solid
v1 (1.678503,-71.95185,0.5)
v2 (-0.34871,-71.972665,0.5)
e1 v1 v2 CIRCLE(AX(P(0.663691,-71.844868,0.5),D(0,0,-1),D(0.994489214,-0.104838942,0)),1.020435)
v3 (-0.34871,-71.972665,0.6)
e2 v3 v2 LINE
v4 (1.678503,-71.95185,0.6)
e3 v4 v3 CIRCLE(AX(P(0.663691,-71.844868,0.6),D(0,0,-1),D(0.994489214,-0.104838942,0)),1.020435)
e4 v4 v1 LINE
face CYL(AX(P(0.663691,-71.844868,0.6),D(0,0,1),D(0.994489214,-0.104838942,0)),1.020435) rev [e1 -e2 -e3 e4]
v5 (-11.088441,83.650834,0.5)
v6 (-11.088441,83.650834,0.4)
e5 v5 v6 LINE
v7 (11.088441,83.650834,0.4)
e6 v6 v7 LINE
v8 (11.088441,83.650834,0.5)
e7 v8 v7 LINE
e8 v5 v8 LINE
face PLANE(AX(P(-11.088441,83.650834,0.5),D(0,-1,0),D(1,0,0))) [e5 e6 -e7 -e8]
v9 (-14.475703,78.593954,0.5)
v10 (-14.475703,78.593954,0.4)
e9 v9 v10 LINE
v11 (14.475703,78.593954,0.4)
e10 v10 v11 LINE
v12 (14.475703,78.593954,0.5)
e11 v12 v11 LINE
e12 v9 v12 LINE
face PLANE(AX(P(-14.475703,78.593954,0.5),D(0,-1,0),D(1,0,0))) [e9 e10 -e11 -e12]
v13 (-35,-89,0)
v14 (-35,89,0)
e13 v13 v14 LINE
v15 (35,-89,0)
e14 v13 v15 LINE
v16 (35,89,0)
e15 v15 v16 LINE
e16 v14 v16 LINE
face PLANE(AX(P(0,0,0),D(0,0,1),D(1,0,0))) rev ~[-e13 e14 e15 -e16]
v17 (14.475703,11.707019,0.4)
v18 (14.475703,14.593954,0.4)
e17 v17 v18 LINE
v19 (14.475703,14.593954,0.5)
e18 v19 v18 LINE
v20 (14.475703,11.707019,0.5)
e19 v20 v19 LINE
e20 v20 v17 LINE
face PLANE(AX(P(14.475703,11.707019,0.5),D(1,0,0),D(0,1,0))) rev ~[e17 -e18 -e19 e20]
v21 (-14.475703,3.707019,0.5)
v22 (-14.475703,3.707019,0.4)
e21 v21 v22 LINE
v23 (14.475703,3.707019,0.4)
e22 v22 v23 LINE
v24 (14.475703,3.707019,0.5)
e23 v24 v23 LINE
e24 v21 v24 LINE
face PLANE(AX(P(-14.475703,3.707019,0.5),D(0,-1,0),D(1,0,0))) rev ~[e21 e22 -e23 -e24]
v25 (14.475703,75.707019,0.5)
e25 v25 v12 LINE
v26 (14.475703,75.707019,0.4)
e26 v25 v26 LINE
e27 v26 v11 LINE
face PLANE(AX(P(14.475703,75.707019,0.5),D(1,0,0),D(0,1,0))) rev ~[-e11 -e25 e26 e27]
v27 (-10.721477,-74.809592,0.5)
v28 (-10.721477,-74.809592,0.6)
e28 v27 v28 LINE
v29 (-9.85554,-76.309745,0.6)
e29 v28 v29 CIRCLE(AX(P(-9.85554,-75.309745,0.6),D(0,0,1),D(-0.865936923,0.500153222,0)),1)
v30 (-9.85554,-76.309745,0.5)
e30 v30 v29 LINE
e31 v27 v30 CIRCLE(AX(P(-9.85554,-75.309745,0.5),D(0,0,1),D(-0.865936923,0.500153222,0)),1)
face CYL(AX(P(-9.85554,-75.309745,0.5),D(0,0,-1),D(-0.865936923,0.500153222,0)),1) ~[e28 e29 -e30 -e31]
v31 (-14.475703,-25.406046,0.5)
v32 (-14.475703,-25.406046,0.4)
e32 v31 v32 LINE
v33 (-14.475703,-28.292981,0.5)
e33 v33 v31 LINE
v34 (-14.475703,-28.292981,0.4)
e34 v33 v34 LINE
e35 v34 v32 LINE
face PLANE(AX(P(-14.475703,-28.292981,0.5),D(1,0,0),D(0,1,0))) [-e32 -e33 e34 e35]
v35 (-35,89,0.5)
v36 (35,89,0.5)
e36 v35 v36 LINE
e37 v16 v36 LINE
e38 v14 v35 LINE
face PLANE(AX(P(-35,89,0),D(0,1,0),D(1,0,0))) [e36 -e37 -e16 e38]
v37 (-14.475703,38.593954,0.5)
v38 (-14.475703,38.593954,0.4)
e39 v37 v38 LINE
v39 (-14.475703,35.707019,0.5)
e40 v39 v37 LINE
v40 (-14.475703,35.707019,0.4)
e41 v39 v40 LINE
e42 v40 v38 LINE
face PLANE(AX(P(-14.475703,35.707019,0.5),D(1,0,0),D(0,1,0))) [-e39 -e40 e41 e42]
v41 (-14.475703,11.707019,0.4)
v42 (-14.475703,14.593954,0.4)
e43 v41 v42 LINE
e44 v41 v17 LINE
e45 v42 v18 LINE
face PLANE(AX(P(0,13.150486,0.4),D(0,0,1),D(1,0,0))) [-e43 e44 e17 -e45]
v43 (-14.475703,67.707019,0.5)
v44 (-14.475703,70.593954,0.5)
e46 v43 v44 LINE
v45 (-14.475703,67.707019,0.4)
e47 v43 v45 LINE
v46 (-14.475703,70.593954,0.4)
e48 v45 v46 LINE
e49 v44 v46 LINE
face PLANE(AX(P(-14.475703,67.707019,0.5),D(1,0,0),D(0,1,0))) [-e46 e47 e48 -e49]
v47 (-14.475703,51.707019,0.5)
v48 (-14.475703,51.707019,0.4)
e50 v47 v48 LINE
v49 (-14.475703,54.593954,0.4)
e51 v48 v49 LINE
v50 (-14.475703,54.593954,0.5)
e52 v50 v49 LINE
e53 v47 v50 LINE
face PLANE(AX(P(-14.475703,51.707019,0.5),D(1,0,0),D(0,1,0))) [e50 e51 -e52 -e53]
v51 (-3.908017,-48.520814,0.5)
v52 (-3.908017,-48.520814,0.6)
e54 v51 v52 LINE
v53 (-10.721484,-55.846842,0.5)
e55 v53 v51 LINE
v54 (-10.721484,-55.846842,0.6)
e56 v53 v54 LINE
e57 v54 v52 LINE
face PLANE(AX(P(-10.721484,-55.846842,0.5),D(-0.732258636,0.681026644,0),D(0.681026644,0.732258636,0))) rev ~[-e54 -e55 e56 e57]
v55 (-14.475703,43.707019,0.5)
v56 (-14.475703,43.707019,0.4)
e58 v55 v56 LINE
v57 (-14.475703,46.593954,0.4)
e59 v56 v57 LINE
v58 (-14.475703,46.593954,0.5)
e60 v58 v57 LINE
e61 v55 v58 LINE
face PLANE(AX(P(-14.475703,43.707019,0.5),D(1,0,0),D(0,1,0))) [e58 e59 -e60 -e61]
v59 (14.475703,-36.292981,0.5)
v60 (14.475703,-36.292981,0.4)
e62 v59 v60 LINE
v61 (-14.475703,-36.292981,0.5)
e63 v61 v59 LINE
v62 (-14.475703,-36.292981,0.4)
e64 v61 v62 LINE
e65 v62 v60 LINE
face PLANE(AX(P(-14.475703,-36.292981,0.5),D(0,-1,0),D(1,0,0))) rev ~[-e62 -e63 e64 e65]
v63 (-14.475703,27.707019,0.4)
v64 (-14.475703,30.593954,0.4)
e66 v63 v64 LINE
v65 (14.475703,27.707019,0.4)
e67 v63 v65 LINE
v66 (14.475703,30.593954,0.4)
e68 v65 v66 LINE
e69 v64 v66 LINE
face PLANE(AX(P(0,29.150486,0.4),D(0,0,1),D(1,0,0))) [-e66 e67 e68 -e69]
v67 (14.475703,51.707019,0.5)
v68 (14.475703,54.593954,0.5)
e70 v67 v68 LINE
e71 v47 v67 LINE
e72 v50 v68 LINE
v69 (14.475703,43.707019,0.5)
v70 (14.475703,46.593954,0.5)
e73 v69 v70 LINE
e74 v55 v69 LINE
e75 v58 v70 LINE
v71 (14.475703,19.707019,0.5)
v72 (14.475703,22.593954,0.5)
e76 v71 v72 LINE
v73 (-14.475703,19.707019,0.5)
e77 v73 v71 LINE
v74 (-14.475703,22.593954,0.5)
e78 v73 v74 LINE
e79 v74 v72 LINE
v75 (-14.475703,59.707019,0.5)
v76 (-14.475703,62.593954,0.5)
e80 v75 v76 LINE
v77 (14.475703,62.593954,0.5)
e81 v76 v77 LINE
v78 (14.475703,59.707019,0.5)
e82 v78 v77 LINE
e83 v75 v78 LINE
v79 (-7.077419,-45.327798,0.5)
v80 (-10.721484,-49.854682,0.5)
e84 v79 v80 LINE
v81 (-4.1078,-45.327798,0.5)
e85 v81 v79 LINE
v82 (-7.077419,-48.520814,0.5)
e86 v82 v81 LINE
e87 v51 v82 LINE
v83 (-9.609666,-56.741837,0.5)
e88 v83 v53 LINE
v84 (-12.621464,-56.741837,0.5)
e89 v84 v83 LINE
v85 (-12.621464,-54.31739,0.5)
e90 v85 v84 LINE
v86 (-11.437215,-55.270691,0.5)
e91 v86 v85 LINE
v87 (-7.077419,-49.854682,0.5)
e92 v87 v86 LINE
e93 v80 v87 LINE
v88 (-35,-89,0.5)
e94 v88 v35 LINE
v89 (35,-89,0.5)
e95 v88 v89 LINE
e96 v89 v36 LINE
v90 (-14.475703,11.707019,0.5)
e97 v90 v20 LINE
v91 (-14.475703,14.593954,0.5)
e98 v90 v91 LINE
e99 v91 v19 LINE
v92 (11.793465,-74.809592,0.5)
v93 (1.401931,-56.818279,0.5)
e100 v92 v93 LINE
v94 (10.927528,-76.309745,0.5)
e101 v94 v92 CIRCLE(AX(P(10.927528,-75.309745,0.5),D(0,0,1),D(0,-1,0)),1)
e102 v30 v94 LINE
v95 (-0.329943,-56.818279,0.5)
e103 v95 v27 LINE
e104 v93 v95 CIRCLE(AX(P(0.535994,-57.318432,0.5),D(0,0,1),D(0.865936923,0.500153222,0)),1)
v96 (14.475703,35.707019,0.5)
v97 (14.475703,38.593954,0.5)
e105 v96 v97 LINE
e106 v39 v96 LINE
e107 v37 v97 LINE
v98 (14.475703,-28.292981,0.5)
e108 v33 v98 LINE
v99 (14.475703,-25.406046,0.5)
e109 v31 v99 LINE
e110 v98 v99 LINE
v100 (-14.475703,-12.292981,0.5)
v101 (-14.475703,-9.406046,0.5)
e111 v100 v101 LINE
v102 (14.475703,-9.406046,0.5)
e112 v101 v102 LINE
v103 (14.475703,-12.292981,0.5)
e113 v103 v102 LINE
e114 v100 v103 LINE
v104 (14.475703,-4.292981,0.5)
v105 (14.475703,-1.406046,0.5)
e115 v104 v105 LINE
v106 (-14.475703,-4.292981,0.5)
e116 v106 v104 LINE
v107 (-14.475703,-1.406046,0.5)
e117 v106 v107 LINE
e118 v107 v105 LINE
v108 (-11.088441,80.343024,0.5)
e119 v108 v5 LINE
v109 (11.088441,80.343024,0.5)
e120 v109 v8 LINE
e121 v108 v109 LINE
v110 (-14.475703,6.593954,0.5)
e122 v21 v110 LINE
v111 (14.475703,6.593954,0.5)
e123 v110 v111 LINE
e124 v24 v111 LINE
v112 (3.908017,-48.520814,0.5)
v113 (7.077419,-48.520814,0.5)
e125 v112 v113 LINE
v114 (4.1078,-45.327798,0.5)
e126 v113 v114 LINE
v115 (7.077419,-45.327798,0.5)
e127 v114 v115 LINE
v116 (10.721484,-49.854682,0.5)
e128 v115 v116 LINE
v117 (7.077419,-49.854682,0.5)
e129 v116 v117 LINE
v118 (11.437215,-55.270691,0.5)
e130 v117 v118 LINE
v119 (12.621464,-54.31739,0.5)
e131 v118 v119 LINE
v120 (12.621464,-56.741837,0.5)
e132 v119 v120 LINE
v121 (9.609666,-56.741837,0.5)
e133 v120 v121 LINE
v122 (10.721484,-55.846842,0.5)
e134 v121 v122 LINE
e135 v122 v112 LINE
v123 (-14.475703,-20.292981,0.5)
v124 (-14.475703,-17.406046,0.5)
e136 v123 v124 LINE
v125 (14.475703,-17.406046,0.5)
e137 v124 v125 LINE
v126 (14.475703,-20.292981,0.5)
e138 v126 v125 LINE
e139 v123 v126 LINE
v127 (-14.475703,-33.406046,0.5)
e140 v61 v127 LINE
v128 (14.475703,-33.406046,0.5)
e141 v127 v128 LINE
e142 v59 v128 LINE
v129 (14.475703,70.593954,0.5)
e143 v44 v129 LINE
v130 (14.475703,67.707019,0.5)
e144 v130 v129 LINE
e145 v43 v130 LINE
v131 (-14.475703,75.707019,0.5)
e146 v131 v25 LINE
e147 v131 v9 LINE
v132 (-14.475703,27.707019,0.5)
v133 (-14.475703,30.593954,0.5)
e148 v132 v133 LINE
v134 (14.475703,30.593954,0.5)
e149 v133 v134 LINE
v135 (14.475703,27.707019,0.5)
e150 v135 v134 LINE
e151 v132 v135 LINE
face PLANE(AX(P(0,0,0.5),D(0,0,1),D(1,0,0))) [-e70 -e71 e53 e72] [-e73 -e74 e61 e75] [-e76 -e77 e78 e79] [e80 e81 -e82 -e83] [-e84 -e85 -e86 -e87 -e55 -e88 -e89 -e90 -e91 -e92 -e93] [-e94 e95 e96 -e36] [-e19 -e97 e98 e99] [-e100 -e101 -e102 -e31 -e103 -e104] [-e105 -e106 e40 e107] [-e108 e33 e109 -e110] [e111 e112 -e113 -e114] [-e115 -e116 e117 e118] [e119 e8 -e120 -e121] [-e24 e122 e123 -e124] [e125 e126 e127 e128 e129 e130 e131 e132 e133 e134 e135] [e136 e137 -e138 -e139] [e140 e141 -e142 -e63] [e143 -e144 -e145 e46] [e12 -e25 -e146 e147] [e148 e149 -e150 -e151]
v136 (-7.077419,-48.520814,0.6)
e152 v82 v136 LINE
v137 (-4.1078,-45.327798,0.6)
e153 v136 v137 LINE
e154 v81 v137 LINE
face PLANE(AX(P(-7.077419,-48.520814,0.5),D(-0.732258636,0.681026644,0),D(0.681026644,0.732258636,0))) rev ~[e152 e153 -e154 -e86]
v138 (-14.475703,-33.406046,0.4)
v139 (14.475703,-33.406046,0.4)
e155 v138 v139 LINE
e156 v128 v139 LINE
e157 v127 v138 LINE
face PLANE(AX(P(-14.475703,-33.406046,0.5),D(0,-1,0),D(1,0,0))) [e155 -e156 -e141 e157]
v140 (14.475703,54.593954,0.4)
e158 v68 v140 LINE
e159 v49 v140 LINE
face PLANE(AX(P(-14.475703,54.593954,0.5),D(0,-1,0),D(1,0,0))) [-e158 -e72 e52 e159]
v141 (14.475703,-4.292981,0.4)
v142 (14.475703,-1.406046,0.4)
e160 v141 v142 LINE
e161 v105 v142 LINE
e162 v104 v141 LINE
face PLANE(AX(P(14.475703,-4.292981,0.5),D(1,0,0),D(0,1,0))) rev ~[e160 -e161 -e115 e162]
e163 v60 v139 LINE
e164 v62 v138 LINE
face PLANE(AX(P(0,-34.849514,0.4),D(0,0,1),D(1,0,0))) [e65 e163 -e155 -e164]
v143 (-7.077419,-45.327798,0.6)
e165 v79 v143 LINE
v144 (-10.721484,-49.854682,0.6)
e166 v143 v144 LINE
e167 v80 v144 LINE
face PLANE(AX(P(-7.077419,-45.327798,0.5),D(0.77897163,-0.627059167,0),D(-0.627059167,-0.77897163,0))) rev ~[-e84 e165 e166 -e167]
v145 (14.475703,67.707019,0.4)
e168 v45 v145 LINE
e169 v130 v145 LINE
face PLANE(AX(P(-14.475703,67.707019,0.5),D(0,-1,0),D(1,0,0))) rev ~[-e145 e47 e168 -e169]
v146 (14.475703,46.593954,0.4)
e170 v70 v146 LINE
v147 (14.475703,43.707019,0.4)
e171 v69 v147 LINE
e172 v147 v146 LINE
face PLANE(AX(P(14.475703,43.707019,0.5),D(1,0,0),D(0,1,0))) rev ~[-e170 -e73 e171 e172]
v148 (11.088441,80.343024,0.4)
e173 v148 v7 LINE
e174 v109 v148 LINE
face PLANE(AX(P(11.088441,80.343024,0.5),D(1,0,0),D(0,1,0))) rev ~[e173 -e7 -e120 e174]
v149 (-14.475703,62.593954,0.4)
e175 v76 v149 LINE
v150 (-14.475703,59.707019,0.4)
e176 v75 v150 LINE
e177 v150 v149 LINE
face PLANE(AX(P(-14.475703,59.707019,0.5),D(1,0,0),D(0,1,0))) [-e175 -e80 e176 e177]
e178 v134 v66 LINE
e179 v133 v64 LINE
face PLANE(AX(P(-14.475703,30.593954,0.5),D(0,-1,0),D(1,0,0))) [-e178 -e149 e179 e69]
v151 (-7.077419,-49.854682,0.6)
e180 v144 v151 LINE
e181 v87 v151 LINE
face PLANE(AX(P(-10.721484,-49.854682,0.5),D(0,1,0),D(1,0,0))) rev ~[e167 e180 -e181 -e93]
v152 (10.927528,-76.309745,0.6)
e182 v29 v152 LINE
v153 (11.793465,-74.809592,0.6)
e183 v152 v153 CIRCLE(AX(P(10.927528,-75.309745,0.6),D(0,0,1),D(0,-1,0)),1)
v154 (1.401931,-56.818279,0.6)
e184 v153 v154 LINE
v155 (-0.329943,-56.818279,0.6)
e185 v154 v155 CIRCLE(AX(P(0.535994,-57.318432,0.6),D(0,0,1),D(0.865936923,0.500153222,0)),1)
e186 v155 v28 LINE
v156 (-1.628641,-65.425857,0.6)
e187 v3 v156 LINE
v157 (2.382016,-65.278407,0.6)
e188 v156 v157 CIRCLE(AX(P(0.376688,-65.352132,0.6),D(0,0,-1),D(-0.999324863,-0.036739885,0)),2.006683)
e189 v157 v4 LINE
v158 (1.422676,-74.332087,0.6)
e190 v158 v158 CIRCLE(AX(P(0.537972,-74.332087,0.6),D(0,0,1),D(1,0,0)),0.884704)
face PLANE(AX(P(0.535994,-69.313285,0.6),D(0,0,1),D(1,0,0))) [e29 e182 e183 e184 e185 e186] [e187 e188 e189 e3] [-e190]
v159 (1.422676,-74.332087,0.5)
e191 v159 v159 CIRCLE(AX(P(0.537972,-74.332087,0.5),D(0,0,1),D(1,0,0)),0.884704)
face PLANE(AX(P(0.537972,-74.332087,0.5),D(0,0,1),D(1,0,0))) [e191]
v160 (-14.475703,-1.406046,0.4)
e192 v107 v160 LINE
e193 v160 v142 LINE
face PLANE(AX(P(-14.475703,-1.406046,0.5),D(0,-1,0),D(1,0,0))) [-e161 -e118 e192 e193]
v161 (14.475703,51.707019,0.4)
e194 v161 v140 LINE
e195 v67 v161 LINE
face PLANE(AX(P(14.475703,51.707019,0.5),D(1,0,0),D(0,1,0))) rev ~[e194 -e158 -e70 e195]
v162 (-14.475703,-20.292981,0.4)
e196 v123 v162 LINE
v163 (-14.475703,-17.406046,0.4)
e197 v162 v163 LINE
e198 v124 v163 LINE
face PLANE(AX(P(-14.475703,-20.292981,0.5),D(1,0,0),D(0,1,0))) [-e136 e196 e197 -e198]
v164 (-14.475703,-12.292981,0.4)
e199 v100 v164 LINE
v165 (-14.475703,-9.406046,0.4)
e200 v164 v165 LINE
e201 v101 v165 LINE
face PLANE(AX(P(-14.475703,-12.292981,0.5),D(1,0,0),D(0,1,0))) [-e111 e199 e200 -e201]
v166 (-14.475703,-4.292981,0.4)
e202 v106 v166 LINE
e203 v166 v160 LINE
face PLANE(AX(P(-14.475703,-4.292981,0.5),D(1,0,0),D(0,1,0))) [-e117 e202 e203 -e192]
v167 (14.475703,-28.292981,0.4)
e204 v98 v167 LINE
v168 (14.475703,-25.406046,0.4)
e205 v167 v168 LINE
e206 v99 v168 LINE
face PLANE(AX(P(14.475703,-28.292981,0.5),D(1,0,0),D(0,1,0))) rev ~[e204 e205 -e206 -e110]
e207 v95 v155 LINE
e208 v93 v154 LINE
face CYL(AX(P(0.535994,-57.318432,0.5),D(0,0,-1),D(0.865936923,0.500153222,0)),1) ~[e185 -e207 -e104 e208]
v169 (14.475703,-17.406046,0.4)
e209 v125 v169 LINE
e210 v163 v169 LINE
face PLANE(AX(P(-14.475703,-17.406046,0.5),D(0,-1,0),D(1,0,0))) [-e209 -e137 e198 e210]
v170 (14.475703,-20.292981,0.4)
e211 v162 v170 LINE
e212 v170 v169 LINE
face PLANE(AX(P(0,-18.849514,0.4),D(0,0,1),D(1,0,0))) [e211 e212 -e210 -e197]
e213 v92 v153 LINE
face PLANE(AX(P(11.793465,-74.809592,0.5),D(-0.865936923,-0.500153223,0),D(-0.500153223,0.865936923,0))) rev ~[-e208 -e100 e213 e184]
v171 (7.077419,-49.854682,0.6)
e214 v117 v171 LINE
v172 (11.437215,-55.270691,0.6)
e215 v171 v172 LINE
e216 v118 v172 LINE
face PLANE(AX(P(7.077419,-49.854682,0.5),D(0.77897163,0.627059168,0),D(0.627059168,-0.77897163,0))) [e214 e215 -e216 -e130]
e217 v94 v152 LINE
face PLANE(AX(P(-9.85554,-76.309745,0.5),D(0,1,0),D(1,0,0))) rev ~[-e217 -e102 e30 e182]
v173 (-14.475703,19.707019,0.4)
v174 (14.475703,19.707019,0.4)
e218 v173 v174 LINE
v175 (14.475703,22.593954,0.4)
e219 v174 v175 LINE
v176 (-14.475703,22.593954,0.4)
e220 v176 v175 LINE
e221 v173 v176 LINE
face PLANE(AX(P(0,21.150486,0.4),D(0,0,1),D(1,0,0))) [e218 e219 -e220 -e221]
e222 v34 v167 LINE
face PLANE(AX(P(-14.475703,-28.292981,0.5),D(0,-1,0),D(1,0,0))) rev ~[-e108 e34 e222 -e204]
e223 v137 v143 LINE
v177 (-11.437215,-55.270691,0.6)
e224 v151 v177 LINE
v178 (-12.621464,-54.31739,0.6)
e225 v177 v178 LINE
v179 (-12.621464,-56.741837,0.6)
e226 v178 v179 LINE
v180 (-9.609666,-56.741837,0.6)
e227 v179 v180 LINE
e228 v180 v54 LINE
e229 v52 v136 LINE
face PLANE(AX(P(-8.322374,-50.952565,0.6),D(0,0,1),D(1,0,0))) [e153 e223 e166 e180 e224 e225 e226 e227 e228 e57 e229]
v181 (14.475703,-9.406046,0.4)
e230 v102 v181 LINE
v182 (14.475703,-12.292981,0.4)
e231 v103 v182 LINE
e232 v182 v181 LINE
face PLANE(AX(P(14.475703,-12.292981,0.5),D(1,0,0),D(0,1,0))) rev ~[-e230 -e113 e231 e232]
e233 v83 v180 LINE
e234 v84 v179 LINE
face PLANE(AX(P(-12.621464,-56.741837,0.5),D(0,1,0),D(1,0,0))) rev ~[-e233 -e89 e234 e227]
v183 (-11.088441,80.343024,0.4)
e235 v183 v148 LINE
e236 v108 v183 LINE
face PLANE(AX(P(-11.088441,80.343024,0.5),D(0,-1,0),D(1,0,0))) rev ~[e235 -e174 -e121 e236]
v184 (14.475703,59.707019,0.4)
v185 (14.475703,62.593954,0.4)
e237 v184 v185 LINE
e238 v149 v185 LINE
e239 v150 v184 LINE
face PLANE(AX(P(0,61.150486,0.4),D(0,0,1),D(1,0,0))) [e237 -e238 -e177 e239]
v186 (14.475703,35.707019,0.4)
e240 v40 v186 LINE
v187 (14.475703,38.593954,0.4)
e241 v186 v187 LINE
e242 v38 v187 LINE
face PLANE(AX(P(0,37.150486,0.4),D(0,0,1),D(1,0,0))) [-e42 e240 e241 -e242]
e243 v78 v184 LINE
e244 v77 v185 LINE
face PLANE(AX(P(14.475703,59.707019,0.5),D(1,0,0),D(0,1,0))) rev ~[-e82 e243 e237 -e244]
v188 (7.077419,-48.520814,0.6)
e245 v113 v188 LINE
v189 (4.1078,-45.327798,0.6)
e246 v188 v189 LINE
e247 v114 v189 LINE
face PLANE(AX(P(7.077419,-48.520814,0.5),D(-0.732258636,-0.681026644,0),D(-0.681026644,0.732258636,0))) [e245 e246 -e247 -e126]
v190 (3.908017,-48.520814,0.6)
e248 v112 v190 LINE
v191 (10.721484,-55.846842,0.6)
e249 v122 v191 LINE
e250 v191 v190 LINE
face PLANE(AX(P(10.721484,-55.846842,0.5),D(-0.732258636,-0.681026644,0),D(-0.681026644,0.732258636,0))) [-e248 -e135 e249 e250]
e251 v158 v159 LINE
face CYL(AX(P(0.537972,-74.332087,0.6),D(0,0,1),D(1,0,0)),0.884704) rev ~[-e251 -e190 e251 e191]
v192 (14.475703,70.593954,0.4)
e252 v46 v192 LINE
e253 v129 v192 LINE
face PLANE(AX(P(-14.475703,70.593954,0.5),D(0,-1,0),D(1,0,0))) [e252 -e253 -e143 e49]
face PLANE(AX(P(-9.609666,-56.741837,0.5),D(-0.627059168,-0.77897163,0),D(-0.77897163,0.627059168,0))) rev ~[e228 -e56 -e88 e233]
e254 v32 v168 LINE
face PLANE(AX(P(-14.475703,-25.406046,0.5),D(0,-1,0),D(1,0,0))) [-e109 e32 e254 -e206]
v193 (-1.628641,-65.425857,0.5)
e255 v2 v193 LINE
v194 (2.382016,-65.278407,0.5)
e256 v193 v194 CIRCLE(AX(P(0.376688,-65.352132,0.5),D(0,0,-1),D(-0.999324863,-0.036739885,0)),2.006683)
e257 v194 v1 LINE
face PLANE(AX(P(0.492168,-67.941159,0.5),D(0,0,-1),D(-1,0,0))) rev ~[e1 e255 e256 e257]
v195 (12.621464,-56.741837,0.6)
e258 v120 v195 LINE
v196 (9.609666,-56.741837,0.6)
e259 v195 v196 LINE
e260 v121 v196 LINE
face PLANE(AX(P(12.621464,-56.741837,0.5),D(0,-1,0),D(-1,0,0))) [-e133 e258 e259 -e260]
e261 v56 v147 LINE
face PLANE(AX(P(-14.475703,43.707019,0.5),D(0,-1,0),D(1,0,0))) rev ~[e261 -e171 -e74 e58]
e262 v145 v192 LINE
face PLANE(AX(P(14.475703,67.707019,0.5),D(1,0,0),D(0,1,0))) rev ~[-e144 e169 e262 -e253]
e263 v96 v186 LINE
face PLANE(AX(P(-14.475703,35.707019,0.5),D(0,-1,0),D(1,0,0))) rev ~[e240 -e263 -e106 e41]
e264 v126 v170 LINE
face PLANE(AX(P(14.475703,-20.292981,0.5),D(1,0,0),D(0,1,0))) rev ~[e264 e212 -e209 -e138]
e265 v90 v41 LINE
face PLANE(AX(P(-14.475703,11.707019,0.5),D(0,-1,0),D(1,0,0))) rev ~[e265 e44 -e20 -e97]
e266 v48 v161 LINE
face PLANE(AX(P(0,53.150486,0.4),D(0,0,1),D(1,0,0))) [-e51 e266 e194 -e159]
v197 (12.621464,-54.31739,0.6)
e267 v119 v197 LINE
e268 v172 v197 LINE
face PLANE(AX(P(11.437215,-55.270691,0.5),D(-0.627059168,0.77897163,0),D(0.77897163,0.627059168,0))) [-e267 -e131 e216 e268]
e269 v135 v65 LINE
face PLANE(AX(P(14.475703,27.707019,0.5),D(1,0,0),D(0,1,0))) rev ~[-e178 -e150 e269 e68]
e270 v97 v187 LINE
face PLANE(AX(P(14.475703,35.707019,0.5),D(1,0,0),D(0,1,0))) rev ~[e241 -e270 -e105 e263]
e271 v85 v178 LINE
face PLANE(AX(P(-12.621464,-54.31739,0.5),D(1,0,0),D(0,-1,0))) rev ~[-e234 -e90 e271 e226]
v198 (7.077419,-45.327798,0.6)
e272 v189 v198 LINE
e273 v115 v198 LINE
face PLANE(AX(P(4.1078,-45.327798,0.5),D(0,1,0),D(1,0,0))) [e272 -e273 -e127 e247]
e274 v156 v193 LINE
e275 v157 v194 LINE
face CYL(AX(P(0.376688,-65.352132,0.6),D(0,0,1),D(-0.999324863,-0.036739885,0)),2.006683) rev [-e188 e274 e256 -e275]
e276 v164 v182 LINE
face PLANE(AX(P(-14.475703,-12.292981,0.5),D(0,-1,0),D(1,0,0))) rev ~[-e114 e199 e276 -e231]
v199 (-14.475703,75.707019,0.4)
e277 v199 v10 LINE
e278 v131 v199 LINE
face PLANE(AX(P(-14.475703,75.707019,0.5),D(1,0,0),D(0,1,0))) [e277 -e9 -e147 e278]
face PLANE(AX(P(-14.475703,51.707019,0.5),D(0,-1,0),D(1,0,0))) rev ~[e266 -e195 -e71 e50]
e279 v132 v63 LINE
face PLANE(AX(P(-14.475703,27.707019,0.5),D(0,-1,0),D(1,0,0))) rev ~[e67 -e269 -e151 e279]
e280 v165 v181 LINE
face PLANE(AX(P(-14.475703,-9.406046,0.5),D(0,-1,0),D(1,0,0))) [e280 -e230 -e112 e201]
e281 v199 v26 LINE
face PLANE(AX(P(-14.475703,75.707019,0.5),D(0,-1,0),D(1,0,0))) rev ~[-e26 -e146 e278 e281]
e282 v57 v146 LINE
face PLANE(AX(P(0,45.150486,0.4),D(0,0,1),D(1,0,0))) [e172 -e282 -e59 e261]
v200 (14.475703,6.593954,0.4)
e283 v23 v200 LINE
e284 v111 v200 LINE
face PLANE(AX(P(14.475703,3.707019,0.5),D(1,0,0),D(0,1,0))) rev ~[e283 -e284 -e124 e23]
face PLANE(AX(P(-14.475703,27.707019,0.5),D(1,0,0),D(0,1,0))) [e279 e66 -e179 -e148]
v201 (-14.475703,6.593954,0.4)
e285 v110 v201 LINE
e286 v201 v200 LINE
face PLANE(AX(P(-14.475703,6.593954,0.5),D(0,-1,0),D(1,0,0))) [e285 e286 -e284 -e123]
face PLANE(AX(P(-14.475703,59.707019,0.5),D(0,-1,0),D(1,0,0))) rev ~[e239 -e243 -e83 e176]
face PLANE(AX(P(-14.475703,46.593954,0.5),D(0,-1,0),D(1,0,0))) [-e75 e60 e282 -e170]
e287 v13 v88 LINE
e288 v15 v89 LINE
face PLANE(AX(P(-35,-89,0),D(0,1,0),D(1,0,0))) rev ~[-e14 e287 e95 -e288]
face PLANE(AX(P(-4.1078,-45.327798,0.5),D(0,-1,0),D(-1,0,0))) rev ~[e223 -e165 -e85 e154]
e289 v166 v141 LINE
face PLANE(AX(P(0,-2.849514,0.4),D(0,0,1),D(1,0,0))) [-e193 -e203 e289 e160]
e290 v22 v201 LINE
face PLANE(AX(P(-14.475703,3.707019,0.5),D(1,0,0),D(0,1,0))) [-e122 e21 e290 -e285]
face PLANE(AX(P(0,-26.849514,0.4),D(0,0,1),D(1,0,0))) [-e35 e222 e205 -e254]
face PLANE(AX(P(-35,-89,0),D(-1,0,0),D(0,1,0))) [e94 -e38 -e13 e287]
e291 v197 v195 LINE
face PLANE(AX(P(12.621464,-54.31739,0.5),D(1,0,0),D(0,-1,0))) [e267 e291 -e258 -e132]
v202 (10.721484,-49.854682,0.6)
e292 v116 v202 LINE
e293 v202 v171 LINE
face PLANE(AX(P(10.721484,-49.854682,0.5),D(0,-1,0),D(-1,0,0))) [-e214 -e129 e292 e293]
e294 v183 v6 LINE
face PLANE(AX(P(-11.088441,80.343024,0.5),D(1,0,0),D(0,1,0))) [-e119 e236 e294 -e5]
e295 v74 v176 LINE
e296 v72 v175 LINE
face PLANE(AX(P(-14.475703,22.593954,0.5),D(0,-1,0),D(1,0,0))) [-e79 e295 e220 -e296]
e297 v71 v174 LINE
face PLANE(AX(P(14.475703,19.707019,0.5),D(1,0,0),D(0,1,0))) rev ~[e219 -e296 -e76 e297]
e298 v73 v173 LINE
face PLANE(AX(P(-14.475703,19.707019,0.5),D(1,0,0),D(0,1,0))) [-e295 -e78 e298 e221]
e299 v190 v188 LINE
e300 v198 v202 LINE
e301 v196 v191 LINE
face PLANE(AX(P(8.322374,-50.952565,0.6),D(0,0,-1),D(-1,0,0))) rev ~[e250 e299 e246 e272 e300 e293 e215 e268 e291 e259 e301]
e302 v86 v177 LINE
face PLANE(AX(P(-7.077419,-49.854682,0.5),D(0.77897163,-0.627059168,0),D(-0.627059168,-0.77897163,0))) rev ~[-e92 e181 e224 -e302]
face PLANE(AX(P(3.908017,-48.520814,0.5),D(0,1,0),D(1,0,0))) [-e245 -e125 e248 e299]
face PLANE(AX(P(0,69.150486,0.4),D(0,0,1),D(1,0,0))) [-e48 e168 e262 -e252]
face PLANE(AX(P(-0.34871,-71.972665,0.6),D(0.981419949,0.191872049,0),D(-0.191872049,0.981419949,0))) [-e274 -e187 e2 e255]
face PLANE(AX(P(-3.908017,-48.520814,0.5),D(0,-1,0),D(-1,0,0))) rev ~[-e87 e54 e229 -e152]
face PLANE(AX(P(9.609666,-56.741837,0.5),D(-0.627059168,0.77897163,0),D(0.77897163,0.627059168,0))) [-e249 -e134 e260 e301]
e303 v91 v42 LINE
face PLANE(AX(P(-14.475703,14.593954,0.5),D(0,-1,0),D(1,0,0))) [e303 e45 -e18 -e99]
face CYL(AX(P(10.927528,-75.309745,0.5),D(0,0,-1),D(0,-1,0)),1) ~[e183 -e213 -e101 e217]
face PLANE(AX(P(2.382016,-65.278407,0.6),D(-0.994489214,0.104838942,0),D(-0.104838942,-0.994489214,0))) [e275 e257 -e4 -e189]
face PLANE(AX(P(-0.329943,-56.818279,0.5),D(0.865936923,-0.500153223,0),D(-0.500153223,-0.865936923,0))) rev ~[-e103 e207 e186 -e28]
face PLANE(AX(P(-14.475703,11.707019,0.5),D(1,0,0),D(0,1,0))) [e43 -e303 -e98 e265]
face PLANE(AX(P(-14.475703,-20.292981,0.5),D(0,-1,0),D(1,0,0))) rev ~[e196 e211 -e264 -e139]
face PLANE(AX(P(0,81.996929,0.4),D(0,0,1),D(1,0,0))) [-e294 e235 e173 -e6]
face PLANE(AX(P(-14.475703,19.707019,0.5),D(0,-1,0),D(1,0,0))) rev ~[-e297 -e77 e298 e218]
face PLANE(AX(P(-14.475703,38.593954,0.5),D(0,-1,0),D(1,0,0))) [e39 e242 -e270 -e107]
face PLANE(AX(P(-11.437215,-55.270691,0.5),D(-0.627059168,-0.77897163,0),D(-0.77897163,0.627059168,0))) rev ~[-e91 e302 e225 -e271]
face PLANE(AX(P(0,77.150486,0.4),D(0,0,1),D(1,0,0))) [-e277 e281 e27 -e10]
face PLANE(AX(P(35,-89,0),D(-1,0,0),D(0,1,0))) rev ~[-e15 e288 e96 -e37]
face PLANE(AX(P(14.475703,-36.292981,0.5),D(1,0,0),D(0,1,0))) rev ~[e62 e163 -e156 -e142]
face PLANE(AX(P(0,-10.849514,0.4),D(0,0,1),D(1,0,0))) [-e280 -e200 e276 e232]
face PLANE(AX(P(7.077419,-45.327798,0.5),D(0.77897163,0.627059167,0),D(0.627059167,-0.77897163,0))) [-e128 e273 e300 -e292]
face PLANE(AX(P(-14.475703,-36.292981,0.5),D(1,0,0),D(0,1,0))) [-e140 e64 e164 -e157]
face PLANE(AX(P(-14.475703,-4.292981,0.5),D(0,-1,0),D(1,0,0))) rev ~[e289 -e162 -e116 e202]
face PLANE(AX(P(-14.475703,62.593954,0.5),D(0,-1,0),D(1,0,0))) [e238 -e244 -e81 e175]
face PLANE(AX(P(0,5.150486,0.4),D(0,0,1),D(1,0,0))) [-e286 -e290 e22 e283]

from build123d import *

# Parameters (mm, degrees)
CROQUIS2_W              = 70
CROQUIS2_H              = 178
SALIENTE_EXTRUIR1_DEPTH = 0.5
SALIENTE_EXTRUIR3_DEPTH = 0.1
CROQUIS7_W              = 22.17688196
CROQUIS7_H              = 3.307809841
CORTAR_EXTRUIR1_DEPTH   = 0.1
CROQUIS12_R             = 0.884703758
CORTAR_EXTRUIR6_DEPTH   = 0.1
SALIENTE_EXTRUIR7_DEPTH = 0.1
CROQUIS14_W             = 28.951405582
CROQUIS14_H             = 2.886934834
CORTAR_EXTRUIR9_DEPTH   = 0.1


with BuildPart() as part:
    # Croquis2 → Saliente-Extruir1 (new body)
    with BuildSketch(Plane.XY):
        Rectangle(CROQUIS2_W, CROQUIS2_H)
    extrude(amount=SALIENTE_EXTRUIR1_DEPTH)

    # Croquis3 → Saliente-Extruir3 (add)
    with BuildSketch(Plane.XY.offset(0.5)):
        with BuildLine():
            Line((-9.855540385, -76.309745211), (10.927527897, -76.309745211))
            ThreePointArc((10.927527897, -76.309745211), (11.793597531, -75.809668594), (11.79346482, -74.809591989))
            Line((11.79346482, -74.809591989), (1.401930679, -56.818279148))
            ThreePointArc((1.401930679, -56.818279148), (0.535993756, -56.31843237), (-0.329943167, -56.818279148))
            Line((-0.329943167, -56.818279148), (-10.721477308, -74.809591989))
            ThreePointArc((-10.721477308, -74.809591989), (-10.721610019, -75.809668594), (-9.855540385, -76.309745211))
        make_face()
    extrude(amount=SALIENTE_EXTRUIR3_DEPTH)

    # Croquis7 → Cortar-Extruir1 (cut)
    with BuildSketch(Plane.XY.offset(0.5)):
        with Locations((0, 81.996928937)):
            Rectangle(CROQUIS7_W, CROQUIS7_H)
    extrude(amount=-CORTAR_EXTRUIR1_DEPTH, mode=Mode.SUBTRACT)

    # Croquis12 → Cortar-Extruir6 (cut)
    with BuildSketch(Plane.XY.offset(0.6)):
        with Locations((0.537972258, -74.332087137)):
            Circle(CROQUIS12_R)
        with BuildLine():
            Line((-0.348710002, -71.972665126), (-1.628640607, -65.425857317))
            ThreePointArc((-1.628640607, -65.425857317), (0.302962598, -63.346803486), (2.382016429, -65.278406691))
            Line((2.382016429, -65.278406691), (1.678502804, -71.951849763))
            ThreePointArc((1.678502804, -71.951849763), (0.674168301, -72.865249783), (-0.348710002, -71.972665126))
        make_face()
    extrude(amount=-CORTAR_EXTRUIR6_DEPTH, mode=Mode.SUBTRACT)

    # Croquis4 → Saliente-Extruir7 (add)
    with BuildSketch(Plane.XY.offset(0.5)):
        Polygon((-4.107800338, -45.327798296), (-7.077418664, -45.327798296), (-10.721484373, -49.854681807), (-7.077418664, -49.854681807), (-11.437215381, -55.270690584), (-12.621463736, -54.317390413), (-12.621463736, -56.74183704), (-9.609666384, -56.74183704), (-10.721484373, -55.846842105), (-3.908016847, -48.520813848), (-7.077418664, -48.520813848), align=None)
        Polygon((9.609666384, -56.74183704), (10.721484373, -55.846842105), (3.908016847, -48.520813848), (7.077418664, -48.520813848), (4.107800338, -45.327798296), (7.077418664, -45.327798296), (10.721484373, -49.854681807), (7.077418664, -49.854681807), (11.437215381, -55.270690584), (12.621463736, -54.317390413), (12.621463736, -56.74183704), align=None)
    extrude(amount=SALIENTE_EXTRUIR7_DEPTH)

    # Croquis14 → Cortar-Extruir9 (cut)
    with BuildSketch(Plane.XY.offset(0.5)):
        with Locations((0, 77.150486091)):
            Rectangle(CROQUIS14_W, CROQUIS14_H)
        with Locations((0, 69.150486091)):
            Rectangle(CROQUIS14_W, CROQUIS14_H)
        with Locations((0, 61.150486091)):
            Rectangle(CROQUIS14_W, CROQUIS14_H)
        with Locations((0, 53.150486091)):
            Rectangle(CROQUIS14_W, CROQUIS14_H)
        with Locations((0, 45.150486091)):
            Rectangle(CROQUIS14_W, CROQUIS14_H)
        with Locations((0, 37.150486091)):
            Rectangle(CROQUIS14_W, CROQUIS14_H)
        with Locations((0, 29.150486091)):
            Rectangle(CROQUIS14_W, CROQUIS14_H)
        with Locations((0, 21.150486091)):
            Rectangle(CROQUIS14_W, CROQUIS14_H)
        with Locations((0, 13.150486091)):
            Rectangle(CROQUIS14_W, CROQUIS14_H)
        with Locations((0, 5.150486091)):
            Rectangle(CROQUIS14_W, CROQUIS14_H)
        with Locations((0, -2.849513909)):
            Rectangle(CROQUIS14_W, CROQUIS14_H)
        with Locations((0, -10.849513909)):
            Rectangle(CROQUIS14_W, CROQUIS14_H)
        with Locations((0, -18.849513909)):
            Rectangle(CROQUIS14_W, CROQUIS14_H)
        with Locations((0, -26.849513909)):
            Rectangle(CROQUIS14_W, CROQUIS14_H)
        with Locations((0, -34.849513909)):
            Rectangle(CROQUIS14_W, CROQUIS14_H)
    extrude(amount=-CORTAR_EXTRUIR9_DEPTH, mode=Mode.SUBTRACT)


solid = part.part
